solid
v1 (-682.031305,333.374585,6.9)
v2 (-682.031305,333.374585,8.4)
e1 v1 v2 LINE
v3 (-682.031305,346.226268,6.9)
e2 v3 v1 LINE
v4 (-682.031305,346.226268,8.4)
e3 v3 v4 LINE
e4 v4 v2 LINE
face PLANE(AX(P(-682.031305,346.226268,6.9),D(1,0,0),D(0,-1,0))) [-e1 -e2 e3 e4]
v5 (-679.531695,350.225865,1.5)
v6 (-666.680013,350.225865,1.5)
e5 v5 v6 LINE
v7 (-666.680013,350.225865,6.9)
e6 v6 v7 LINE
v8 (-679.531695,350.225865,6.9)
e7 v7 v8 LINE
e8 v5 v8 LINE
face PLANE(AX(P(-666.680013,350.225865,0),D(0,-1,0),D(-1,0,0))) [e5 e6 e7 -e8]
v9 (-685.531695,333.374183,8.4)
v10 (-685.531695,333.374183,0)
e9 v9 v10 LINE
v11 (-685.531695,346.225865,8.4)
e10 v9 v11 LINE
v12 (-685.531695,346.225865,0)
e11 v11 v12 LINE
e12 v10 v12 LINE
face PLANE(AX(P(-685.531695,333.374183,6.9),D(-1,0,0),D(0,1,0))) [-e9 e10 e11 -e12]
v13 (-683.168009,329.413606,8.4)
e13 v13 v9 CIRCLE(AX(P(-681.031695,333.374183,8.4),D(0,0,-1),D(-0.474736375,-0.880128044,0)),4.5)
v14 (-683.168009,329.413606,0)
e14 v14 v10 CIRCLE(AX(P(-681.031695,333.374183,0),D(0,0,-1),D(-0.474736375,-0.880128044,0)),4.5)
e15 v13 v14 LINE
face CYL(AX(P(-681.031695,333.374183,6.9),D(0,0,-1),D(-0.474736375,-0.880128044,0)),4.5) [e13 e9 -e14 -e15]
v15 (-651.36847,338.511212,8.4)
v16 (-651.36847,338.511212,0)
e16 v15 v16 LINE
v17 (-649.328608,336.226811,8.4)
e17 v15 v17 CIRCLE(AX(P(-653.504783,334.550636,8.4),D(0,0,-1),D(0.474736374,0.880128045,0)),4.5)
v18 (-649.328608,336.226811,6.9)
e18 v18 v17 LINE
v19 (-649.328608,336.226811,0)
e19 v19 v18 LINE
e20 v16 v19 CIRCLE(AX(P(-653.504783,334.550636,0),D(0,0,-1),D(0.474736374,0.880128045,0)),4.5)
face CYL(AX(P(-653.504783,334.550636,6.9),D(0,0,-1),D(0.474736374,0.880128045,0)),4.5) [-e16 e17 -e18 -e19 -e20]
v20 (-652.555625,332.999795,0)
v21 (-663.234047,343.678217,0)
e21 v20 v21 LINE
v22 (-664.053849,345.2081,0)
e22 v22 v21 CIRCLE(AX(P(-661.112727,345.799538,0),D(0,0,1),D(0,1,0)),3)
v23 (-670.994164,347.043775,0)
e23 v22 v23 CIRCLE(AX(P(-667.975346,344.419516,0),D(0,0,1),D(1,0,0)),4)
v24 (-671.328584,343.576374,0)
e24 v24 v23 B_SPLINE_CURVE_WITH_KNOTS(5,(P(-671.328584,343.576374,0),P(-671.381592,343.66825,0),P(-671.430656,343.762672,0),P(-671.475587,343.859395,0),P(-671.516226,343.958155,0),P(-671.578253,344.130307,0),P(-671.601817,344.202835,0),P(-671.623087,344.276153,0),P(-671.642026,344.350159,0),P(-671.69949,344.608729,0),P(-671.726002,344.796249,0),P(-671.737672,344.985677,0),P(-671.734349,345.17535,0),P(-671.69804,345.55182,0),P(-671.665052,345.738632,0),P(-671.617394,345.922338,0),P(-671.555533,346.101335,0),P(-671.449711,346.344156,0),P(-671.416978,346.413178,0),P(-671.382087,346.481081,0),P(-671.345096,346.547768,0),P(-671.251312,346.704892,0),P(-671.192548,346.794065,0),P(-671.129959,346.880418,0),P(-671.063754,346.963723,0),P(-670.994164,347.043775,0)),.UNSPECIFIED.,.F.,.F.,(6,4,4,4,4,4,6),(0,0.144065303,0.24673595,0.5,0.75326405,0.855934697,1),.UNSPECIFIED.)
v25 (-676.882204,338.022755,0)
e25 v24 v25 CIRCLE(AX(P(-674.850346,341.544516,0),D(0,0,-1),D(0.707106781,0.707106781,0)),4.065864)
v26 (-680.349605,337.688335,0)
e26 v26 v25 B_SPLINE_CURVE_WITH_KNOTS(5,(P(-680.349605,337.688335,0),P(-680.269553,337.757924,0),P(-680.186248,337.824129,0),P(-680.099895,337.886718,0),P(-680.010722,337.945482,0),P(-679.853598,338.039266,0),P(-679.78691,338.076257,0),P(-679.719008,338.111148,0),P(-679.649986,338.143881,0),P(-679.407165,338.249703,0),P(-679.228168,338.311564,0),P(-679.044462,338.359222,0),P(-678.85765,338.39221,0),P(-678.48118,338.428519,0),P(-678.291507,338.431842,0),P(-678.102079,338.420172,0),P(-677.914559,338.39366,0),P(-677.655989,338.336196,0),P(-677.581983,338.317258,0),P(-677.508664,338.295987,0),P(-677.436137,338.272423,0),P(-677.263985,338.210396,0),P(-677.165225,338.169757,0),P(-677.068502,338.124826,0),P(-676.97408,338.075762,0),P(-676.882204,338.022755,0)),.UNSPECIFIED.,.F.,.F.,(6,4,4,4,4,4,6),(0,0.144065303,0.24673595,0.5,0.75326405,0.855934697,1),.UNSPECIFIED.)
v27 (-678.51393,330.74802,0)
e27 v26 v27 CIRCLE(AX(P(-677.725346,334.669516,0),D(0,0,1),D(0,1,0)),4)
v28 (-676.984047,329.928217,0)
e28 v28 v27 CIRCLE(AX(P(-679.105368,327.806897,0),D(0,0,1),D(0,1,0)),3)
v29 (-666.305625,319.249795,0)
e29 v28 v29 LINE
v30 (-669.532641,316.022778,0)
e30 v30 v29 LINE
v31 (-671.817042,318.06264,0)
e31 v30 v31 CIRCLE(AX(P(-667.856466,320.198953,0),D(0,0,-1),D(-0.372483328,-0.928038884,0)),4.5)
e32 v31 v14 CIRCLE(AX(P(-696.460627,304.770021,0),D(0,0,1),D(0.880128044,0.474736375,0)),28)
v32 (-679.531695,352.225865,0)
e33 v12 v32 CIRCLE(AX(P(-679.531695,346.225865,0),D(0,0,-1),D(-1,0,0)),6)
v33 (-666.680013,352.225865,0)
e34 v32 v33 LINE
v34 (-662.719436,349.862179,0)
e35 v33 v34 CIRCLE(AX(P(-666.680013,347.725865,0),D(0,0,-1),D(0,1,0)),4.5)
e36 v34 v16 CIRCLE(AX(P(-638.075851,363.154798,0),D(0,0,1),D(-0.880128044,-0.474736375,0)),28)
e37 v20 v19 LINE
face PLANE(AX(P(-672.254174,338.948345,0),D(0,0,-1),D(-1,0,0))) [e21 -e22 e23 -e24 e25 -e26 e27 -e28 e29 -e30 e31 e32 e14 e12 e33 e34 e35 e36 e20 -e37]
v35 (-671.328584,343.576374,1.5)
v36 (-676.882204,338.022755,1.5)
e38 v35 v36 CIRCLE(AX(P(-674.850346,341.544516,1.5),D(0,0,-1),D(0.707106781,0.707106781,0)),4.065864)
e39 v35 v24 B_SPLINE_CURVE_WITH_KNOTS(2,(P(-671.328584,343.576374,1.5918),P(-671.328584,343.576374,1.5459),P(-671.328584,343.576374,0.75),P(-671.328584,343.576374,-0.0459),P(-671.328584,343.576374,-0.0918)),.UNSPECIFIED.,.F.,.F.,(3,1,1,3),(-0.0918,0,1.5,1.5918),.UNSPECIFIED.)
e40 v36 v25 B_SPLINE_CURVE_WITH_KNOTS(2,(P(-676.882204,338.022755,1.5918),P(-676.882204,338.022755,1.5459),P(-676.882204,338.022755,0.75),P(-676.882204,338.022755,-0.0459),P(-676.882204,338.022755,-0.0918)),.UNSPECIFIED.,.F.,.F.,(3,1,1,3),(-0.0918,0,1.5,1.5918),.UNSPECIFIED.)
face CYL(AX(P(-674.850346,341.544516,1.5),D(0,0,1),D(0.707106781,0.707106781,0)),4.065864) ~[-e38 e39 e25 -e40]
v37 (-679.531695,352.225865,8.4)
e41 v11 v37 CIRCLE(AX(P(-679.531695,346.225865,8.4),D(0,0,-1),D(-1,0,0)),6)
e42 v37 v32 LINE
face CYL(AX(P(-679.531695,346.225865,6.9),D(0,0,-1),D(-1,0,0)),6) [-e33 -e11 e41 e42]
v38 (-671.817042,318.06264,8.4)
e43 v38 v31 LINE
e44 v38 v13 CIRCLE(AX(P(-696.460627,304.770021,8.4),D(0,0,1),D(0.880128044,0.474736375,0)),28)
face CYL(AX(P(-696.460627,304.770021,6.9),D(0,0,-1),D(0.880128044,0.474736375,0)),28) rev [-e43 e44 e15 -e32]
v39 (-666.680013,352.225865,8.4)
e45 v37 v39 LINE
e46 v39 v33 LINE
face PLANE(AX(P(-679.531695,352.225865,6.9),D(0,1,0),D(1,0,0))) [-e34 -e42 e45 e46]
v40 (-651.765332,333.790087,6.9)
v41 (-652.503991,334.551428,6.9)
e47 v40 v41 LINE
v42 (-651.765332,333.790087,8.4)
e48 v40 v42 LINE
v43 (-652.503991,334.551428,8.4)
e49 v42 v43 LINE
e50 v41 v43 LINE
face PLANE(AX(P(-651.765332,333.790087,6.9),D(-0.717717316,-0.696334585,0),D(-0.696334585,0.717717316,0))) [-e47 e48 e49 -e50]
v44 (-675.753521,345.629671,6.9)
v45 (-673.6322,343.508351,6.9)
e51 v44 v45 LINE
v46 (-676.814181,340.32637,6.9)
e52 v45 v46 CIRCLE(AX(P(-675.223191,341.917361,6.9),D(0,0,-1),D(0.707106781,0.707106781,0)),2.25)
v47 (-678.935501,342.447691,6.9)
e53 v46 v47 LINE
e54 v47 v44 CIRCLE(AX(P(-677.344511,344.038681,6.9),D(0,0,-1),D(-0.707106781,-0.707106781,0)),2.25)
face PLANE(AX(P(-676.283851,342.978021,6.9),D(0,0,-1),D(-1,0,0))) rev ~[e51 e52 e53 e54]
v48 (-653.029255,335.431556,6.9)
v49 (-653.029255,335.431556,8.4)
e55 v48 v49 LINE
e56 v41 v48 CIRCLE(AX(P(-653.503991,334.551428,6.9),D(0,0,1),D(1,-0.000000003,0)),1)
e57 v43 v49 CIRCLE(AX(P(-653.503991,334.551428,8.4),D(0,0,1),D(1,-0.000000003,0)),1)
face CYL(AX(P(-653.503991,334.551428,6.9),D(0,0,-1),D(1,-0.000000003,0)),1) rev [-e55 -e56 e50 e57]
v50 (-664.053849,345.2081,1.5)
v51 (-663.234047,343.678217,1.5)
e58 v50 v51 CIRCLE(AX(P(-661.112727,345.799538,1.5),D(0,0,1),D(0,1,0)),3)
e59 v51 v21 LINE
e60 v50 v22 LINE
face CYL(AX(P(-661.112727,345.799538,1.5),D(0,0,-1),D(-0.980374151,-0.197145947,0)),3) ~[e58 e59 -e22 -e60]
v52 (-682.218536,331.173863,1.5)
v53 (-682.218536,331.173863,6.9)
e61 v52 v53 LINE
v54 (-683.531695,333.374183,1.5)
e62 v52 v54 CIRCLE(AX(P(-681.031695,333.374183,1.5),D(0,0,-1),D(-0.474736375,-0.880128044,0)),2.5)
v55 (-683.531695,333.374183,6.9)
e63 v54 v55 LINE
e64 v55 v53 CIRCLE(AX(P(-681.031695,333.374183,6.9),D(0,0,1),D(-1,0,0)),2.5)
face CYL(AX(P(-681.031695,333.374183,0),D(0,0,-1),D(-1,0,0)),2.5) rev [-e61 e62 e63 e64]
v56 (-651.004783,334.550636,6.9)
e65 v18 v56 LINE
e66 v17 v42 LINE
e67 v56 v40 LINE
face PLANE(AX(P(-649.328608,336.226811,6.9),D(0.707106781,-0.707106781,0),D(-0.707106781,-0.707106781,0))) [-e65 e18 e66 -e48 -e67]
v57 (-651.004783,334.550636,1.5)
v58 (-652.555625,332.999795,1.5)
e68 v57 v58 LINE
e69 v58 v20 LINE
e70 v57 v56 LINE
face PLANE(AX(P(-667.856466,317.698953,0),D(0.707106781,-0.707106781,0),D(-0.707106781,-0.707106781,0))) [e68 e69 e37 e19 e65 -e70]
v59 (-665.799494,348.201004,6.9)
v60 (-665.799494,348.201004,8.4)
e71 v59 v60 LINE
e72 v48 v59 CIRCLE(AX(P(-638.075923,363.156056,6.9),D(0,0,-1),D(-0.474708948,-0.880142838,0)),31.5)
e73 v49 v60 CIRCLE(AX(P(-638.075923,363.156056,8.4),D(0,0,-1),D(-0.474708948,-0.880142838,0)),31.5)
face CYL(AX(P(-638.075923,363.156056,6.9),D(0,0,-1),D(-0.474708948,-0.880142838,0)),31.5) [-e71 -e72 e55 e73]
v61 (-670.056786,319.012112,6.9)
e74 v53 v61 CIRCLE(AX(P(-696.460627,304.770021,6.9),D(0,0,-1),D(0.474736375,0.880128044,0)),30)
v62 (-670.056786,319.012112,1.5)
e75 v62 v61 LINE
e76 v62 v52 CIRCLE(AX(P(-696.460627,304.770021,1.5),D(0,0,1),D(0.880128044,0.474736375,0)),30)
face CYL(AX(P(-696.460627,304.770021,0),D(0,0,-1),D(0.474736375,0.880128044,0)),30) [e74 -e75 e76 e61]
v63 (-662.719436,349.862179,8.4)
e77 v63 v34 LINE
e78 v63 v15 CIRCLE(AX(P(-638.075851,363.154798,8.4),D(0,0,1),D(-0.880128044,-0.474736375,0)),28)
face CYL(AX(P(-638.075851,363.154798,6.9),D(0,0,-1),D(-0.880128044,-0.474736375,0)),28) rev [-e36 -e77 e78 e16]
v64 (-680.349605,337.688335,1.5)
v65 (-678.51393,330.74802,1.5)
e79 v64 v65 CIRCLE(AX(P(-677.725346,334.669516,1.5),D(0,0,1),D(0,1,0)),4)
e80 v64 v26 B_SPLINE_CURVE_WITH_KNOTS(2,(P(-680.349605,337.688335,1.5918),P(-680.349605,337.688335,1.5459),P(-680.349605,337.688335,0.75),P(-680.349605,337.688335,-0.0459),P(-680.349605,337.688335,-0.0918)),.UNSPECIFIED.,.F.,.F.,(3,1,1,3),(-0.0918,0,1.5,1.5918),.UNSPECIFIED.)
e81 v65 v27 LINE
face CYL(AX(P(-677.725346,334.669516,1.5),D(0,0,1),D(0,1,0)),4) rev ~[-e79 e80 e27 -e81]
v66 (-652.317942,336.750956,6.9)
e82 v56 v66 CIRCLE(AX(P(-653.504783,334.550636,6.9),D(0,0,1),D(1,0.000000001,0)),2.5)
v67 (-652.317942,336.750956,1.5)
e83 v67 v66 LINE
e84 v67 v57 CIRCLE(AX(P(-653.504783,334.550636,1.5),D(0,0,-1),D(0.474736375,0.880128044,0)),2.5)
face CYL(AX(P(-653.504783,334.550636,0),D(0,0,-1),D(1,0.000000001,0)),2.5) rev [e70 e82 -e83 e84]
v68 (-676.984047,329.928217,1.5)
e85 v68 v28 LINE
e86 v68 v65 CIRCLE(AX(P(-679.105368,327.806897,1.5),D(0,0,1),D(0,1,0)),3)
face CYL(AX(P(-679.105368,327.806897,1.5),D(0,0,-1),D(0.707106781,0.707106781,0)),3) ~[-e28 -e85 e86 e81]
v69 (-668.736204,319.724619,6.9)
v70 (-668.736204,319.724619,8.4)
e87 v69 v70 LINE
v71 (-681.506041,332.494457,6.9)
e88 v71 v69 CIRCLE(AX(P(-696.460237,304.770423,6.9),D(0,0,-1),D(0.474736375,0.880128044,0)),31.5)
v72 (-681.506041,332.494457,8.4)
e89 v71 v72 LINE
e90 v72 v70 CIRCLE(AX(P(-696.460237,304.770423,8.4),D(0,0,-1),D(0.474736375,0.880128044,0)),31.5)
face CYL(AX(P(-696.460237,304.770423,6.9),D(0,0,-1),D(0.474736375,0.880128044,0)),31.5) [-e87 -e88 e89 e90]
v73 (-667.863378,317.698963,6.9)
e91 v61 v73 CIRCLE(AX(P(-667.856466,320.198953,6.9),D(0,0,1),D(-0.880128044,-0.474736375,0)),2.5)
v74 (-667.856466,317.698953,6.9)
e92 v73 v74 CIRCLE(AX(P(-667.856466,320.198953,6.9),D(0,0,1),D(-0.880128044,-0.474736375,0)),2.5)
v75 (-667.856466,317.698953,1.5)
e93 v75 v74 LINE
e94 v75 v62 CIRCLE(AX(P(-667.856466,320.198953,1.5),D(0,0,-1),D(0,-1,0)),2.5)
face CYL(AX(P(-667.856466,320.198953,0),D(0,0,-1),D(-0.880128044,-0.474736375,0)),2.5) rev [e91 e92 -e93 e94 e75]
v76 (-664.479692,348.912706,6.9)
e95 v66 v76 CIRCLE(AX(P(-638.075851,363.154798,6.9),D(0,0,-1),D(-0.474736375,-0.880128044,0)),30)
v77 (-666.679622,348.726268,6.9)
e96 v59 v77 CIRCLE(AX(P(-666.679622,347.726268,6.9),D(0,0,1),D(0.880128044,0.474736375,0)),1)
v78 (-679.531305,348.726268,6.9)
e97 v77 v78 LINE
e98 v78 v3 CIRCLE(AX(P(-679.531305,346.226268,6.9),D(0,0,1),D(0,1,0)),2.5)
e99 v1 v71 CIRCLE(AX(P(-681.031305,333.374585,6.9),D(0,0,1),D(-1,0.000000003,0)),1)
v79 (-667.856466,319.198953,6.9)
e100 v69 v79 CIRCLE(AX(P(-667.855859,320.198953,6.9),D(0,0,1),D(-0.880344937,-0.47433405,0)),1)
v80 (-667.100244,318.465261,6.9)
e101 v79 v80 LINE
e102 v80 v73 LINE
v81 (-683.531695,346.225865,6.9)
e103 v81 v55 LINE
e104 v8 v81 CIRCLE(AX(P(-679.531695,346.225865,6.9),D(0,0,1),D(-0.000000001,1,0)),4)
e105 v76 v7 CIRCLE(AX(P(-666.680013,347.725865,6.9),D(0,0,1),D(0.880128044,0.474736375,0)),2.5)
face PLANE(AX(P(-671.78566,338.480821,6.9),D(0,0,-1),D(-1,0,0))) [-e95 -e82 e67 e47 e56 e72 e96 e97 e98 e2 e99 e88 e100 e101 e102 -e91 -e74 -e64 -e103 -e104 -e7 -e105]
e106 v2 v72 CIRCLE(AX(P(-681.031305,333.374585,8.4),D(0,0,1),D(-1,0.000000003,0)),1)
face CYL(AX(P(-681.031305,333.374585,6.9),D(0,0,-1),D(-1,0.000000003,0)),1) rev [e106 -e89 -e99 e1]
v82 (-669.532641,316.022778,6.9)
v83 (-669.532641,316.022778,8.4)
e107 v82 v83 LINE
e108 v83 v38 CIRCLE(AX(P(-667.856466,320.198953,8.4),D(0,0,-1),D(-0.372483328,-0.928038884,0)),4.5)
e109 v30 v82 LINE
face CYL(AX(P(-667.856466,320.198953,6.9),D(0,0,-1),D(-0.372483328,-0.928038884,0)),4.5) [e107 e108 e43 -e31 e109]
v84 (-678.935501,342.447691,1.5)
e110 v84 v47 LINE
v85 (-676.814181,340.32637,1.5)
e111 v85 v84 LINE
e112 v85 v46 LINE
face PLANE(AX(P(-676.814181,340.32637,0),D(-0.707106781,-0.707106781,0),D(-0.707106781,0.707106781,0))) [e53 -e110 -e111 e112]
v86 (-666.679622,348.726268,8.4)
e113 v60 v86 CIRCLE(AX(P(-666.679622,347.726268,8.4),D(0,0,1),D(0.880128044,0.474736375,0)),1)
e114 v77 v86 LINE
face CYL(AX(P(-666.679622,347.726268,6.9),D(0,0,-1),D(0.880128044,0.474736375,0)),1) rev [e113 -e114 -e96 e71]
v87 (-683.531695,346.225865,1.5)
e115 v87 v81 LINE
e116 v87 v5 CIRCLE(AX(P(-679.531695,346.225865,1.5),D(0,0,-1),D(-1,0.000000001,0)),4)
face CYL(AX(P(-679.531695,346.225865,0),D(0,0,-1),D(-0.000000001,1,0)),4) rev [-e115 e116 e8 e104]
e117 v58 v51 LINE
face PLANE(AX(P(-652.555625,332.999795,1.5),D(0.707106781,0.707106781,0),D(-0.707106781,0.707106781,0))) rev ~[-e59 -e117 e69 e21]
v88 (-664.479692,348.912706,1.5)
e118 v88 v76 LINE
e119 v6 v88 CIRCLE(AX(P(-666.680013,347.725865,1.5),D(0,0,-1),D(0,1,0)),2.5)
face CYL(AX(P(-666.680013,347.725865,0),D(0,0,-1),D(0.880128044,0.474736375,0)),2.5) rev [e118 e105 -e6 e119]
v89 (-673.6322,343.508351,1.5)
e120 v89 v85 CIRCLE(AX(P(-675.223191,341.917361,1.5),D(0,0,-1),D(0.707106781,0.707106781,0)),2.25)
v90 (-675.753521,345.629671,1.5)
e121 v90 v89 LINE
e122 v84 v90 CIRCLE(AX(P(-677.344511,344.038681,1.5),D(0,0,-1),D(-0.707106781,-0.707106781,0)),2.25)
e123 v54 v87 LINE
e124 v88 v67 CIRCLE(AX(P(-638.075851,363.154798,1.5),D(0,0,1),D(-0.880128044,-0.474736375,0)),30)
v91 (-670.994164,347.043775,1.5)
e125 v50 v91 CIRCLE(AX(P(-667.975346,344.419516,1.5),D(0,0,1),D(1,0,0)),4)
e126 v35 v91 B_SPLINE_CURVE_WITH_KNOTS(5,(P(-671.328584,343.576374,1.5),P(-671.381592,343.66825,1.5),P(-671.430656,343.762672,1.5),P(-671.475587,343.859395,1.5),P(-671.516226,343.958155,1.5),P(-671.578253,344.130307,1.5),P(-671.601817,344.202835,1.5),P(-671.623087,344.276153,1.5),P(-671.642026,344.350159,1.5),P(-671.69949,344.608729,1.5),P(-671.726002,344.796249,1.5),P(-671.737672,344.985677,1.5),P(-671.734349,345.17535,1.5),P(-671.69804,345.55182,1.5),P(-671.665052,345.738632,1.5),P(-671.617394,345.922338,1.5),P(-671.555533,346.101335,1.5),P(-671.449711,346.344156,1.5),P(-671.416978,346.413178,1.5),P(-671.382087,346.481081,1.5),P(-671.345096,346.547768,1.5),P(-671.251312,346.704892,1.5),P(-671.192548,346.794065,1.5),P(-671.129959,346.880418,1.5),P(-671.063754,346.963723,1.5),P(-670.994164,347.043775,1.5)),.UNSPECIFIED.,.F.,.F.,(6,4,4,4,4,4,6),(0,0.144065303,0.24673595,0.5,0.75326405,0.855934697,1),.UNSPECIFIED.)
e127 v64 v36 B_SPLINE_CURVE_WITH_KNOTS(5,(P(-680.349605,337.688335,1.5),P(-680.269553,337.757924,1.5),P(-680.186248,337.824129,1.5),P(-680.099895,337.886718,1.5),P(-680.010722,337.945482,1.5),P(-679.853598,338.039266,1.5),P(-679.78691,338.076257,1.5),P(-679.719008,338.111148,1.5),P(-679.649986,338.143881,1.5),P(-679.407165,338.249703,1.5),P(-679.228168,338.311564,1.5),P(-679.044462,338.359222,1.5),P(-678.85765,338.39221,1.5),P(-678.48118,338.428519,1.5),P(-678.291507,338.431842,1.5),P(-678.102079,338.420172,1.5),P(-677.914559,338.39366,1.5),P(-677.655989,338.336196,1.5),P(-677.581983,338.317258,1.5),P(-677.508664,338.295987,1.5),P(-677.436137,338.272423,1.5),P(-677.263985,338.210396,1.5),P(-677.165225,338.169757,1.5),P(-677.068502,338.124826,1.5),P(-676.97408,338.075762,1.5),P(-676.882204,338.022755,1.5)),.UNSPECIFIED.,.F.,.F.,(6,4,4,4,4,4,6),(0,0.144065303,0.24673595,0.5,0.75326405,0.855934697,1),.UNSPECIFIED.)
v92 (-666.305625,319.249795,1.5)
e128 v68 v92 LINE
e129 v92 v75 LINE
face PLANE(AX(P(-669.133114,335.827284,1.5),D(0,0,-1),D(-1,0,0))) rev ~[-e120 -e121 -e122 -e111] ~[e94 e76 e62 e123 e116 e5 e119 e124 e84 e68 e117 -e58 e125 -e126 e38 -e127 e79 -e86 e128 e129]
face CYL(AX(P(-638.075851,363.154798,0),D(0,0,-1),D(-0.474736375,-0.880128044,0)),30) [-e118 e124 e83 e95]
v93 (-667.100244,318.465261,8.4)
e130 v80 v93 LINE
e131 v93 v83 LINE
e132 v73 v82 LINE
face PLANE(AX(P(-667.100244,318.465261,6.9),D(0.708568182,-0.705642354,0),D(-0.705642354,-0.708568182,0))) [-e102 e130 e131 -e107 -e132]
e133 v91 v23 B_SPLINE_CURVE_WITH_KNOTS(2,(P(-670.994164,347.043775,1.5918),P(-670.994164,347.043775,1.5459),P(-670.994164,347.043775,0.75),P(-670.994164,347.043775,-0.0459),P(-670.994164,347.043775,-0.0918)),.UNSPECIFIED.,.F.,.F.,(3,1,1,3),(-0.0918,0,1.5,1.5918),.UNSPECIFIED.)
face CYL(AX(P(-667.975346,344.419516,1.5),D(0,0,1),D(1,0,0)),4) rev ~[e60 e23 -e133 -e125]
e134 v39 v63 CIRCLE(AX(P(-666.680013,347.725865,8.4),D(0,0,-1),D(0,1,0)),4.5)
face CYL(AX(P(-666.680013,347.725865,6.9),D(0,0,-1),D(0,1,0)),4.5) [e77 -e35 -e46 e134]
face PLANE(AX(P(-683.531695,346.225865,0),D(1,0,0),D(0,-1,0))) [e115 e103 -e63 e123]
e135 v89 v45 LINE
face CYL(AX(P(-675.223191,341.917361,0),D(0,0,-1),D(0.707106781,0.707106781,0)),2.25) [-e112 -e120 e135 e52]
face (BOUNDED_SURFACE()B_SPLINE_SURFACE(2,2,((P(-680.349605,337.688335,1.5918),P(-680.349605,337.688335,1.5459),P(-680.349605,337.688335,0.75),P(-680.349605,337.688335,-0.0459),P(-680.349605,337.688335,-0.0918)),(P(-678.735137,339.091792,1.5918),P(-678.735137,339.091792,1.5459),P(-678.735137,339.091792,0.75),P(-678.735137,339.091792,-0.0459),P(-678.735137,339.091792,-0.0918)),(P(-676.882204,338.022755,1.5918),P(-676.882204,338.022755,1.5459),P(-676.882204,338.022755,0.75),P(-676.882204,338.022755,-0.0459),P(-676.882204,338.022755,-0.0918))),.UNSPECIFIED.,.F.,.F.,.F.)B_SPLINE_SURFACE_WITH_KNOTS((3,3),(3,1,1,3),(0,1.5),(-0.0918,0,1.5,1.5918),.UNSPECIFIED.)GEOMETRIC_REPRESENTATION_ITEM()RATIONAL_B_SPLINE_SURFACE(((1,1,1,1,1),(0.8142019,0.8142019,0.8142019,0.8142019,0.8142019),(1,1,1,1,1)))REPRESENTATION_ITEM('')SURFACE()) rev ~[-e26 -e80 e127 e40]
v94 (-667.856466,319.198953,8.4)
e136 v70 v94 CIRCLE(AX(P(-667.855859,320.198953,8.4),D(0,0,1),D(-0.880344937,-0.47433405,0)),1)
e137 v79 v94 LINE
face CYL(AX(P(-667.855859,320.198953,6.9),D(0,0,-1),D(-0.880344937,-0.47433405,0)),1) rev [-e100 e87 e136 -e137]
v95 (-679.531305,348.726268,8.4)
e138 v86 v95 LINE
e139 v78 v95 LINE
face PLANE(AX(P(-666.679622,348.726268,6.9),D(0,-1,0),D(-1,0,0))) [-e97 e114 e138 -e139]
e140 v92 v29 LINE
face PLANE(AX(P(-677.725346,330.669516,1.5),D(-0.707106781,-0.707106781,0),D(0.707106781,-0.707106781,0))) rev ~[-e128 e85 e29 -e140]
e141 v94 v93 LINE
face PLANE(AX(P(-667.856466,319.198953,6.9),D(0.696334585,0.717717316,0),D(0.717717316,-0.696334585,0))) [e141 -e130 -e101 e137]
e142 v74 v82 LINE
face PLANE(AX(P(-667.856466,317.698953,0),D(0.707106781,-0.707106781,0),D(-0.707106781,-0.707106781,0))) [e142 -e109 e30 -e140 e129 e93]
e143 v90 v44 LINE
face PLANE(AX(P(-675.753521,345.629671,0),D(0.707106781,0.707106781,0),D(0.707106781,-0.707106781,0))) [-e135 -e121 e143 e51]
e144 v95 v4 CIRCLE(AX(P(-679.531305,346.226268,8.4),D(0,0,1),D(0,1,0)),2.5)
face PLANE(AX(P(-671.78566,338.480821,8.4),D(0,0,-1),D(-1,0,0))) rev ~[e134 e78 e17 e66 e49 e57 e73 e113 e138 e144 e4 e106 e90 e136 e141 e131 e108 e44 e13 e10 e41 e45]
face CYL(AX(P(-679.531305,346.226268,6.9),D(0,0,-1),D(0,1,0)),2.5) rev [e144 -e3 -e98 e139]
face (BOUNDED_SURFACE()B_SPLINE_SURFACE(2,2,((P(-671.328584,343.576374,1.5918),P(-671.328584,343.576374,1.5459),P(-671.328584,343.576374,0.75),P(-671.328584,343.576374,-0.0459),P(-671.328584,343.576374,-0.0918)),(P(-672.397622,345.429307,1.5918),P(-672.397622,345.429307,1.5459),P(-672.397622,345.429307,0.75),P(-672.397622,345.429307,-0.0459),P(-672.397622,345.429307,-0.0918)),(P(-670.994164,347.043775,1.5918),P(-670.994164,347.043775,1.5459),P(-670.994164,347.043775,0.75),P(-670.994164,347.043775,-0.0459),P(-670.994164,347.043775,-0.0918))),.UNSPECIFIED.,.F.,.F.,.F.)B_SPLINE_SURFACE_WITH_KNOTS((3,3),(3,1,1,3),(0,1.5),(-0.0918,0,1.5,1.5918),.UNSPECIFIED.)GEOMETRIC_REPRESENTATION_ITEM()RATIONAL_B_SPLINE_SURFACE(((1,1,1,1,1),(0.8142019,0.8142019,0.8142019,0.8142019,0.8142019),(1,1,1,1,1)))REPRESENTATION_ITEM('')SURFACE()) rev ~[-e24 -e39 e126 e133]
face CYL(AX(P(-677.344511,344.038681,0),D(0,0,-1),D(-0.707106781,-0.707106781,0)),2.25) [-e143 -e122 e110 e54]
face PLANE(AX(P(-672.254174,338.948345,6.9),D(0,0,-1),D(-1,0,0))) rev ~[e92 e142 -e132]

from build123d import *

# Parameters (mm, degrees)
CROQUIS4_R              = 4
SALIENTE_EXTRUIR1_DEPTH = 1.5
SALIENTE_EXTRUIR2_DEPTH = 6.9
SALIENTE_EXTRUIR3_DEPTH = 1.5
CORTAR_EXTRUIR1_DEPTH   = 1.5
REDONDEO1_R             = 3


with BuildPart() as part:
    # Croquis4 → Saliente-Extruir1 (new body)
    with BuildSketch(Plane.XY):
        with BuildLine():
            Line((-683.531695239, 333.374182683), (-683.531695239, 346.225865369))
            ThreePointArc((-683.531695239, 346.225865369), (-682.360122363, 349.054292493), (-679.531695239, 350.225865369))
            Line((-679.531695239, 350.225865369), (-666.680012553, 350.225865369))
            ThreePointArc((-666.680012553, 350.225865369), (-665.398822158, 349.872619004), (-664.479692443, 348.912706306))
            ThreePointArc((-664.479692443, 348.912706306), (-659.289054552, 341.941594121), (-652.317942367, 336.75095623))
            ThreePointArc((-652.317942367, 336.75095623), (-651.358029669, 335.831826514), (-651.004783304, 334.550636119))
            Line((-651.004783304, 334.550636119), (-667.856465989, 317.698953434))
            ThreePointArc((-667.856465989, 317.698953434), (-669.137656384, 318.052199798), (-670.0567861, 319.012112496))
            ThreePointArc((-670.0567861, 319.012112496), (-675.247423991, 325.983224681), (-682.218536176, 331.173862573))
            ThreePointArc((-682.218536176, 331.173862573), (-683.178448874, 332.092992288), (-683.531695239, 333.374182683))
        make_face()
        with Locations((-667.975346053, 334.669516182)):
            Circle(CROQUIS4_R, mode=Mode.SUBTRACT)
        with BuildLine():
            Line((-675.753520646, 345.629671291), (-673.632200302, 343.508350947))
            ThreePointArc((-673.632200302, 343.508350947), (-673.632200302, 340.326370432), (-676.814180817, 340.326370432))
            Line((-676.814180817, 340.326370432), (-678.935501161, 342.447690776))
            ThreePointArc((-678.935501161, 342.447690776), (-678.935501161, 345.629671291), (-675.753520646, 345.629671291))
        make_face(mode=Mode.SUBTRACT)
        with BuildLine():
            Line((-669.475346053, 344.419516182), (-669.475346053, 342.419516182))
            ThreePointArc((-669.475346053, 342.419516182), (-667.975346053, 340.919516182), (-666.475346053, 342.419516182))
            Line((-666.475346053, 342.419516182), (-666.475346053, 344.419516182))
            ThreePointArc((-666.475346053, 344.419516182), (-667.975346053, 345.919516182), (-669.475346053, 344.419516182))
        make_face(mode=Mode.SUBTRACT)
        with BuildLine():
            Line((-658.225346053, 336.169516182), (-660.225346053, 336.169516182))
            ThreePointArc((-660.225346053, 336.169516182), (-661.725346053, 334.669516182), (-660.225346053, 333.169516182))
            Line((-660.225346053, 333.169516182), (-658.225346053, 333.169516182))
            ThreePointArc((-658.225346053, 333.169516182), (-656.725346053, 334.669516182), (-658.225346053, 336.169516182))
        make_face(mode=Mode.SUBTRACT)
        with BuildLine():
            Line((-666.475346053, 324.919516182), (-666.475346053, 326.919516182))
            ThreePointArc((-666.475346053, 326.919516182), (-667.975346053, 328.419516182), (-669.475346053, 326.919516182))
            Line((-669.475346053, 326.919516182), (-669.475346053, 324.919516182))
            ThreePointArc((-669.475346053, 324.919516182), (-667.975346053, 323.419516182), (-666.475346053, 324.919516182))
        make_face(mode=Mode.SUBTRACT)
        with BuildLine():
            Line((-677.725346053, 333.169516182), (-675.725346053, 333.169516182))
            ThreePointArc((-675.725346053, 333.169516182), (-674.225346053, 334.669516182), (-675.725346053, 336.169516182))
            Line((-675.725346053, 336.169516182), (-677.725346053, 336.169516182))
            ThreePointArc((-677.725346053, 336.169516182), (-679.225346053, 334.669516182), (-677.725346053, 333.169516182))
        make_face(mode=Mode.SUBTRACT)
    extrude(amount=SALIENTE_EXTRUIR1_DEPTH)

    # Croquis5 → Saliente-Extruir2 (add)
    with BuildSketch(Plane(origin=(0, 0, 0), x_dir=(-1, 0, 0), z_dir=(0, 0, -1))):
        with BuildLine():
            ThreePointArc((670.0567861, 319.012112496), (669.137656384, 318.052199798), (667.856465989, 317.698953434))
            Line((667.856465989, 317.698953434), (669.532640967, 316.022778456))
            ThreePointArc((669.532640967, 316.022778456), (670.853714641, 316.842392616), (671.817042188, 318.062639746))
            ThreePointArc((671.817042188, 318.062639746), (676.661637554, 324.569011119), (683.168008926, 329.413606484))
            ThreePointArc((683.168008926, 329.413606484), (684.895851783, 331.068039972), (685.531695239, 333.374182683))
            Line((685.531695239, 333.374182683), (685.531695239, 346.225865369))
            ThreePointArc((685.531695239, 346.225865369), (683.774335926, 350.468506056), (679.531695239, 352.225865369))
            Line((679.531695239, 352.225865369), (666.680012553, 352.225865369))
            ThreePointArc((666.680012553, 352.225865369), (664.373869842, 351.590021913), (662.719436354, 349.862179056))
            ThreePointArc((662.719436354, 349.862179056), (657.874840989, 343.355807684), (651.368469617, 338.511212318))
            ThreePointArc((651.368469617, 338.511212318), (650.148222486, 337.547884771), (649.328608326, 336.226811097))
            Line((649.328608326, 336.226811097), (651.004783304, 334.550636119))
            ThreePointArc((651.004783304, 334.550636119), (651.358029669, 335.831826514), (652.317942367, 336.75095623))
            ThreePointArc((652.317942367, 336.75095623), (659.289054552, 341.941594121), (664.479692443, 348.912706306))
            ThreePointArc((664.479692443, 348.912706306), (665.398822158, 349.872619004), (666.680012553, 350.225865369))
            Line((666.680012553, 350.225865369), (679.531695239, 350.225865369))
            ThreePointArc((679.531695239, 350.225865369), (682.360122363, 349.054292493), (683.531695239, 346.225865369))
            Line((683.531695239, 346.225865369), (683.531695239, 333.374182683))
            ThreePointArc((683.531695239, 333.374182683), (683.178448874, 332.092992288), (682.218536176, 331.173862573))
            ThreePointArc((682.218536176, 331.173862573), (675.247423991, 325.983224681), (670.0567861, 319.012112496))
        make_face()
        with BuildLine():
            ThreePointArc((678.935501161, 342.447690776), (678.935501161, 345.629671291), (675.753520646, 345.629671291))
            Line((675.753520646, 345.629671291), (673.632200302, 343.508350947))
            ThreePointArc((673.632200302, 343.508350947), (673.632200302, 340.326370432), (676.814180817, 340.326370432))
            Line((676.814180817, 340.326370432), (678.935501161, 342.447690776))
        make_face()
    extrude(amount=-SALIENTE_EXTRUIR2_DEPTH)

    # Croquis6 → Saliente-Extruir3 (add)
    with BuildSketch(Plane.XY.offset(6.9)):
        with BuildLine():
            Line((-667.856465989, 319.198953434), (-667.100243806, 318.465261145))
            Line((-667.100243806, 318.465261145), (-669.532640967, 316.022778456))
            ThreePointArc((-669.532640967, 316.022778456), (-670.853714641, 316.842392616), (-671.817042188, 318.062639746))
            ThreePointArc((-671.817042188, 318.062639746), (-676.661637554, 324.569011119), (-683.168008926, 329.413606484))
            ThreePointArc((-683.168008926, 329.413606484), (-684.895851783, 331.068039972), (-685.531695239, 333.374182683))
            Line((-685.531695239, 333.374182683), (-685.531695239, 346.225865369))
            ThreePointArc((-685.531695239, 346.225865369), (-683.774335926, 350.468506056), (-679.531695239, 352.225865369))
            Line((-679.531695239, 352.225865369), (-666.680012553, 352.225865369))
            ThreePointArc((-666.680012553, 352.225865369), (-664.373869842, 351.590021913), (-662.719436354, 349.862179056))
            ThreePointArc((-662.719436354, 349.862179056), (-657.874840989, 343.355807684), (-651.368469617, 338.511212318))
            ThreePointArc((-651.368469617, 338.511212318), (-650.148222486, 337.547884771), (-649.328608326, 336.226811097))
            Line((-649.328608326, 336.226811097), (-651.765332209, 333.790087215))
            Line((-651.765332209, 333.790087215), (-652.503991007, 334.551428417))
            ThreePointArc((-652.503991007, 334.551428417), (-652.645289552, 335.063904575), (-653.029254632, 335.431556461))
            ThreePointArc((-653.029254632, 335.431556461), (-660.349095394, 340.881501273), (-665.799494351, 348.201003883))
            ThreePointArc((-665.799494351, 348.201003883), (-666.167146237, 348.584968962), (-666.679622395, 348.726267508))
            Line((-666.679622395, 348.726267508), (-679.53130508, 348.726267508))
            ThreePointArc((-679.53130508, 348.726267508), (-681.299072033, 347.994034461), (-682.03130508, 346.226267508))
            Line((-682.03130508, 346.226267508), (-682.03130508, 333.374584822))
            ThreePointArc((-682.03130508, 333.374584822), (-681.890006535, 332.862108664), (-681.506041455, 332.494456778))
            ThreePointArc((-681.506041455, 332.494456778), (-674.186373661, 327.044286992), (-668.736203875, 319.724619198))
            ThreePointArc((-668.736203875, 319.724619198), (-668.368791902, 319.340524583), (-667.856465989, 319.198953434))
        make_face()
    extrude(amount=SALIENTE_EXTRUIR3_DEPTH)

    # Croquis7 → Cortar-Extruir1 (cut)
    with BuildSketch(Plane.XY.offset(1.5)):
        with BuildLine():
            Line((-677.725346053, 330.669516182), (-666.305624647, 319.249794777))
            Line((-666.305624647, 319.249794777), (-652.555624647, 332.999794777))
            Line((-652.555624647, 332.999794777), (-663.975346053, 344.419516182))
            ThreePointArc((-663.975346053, 344.419516182), (-667.975346053, 348.419516182), (-671.975346053, 344.419516182))
            ThreePointArc((-671.975346053, 344.419516182), (-671.975346053, 338.669516182), (-677.725346053, 338.669516182))
            ThreePointArc((-677.725346053, 338.669516182), (-681.725346053, 334.669516182), (-677.725346053, 330.669516182))
        make_face()
    extrude(amount=-CORTAR_EXTRUIR1_DEPTH, mode=Mode.SUBTRACT)

    # Redondeo1
    redondeo1_edges = [part.edges().sort_by_distance(p)[0] for p in [
        (-677.725346053, 330.669516182, 0.75),
        (-677.725346053, 338.669516182, 0.75),
        (-671.975346053, 344.419516182, 0.75),
        (-663.975346053, 344.419516182, 0.75),
    ]]
    fillet(redondeo1_edges, radius=REDONDEO1_R)


solid = part.part
